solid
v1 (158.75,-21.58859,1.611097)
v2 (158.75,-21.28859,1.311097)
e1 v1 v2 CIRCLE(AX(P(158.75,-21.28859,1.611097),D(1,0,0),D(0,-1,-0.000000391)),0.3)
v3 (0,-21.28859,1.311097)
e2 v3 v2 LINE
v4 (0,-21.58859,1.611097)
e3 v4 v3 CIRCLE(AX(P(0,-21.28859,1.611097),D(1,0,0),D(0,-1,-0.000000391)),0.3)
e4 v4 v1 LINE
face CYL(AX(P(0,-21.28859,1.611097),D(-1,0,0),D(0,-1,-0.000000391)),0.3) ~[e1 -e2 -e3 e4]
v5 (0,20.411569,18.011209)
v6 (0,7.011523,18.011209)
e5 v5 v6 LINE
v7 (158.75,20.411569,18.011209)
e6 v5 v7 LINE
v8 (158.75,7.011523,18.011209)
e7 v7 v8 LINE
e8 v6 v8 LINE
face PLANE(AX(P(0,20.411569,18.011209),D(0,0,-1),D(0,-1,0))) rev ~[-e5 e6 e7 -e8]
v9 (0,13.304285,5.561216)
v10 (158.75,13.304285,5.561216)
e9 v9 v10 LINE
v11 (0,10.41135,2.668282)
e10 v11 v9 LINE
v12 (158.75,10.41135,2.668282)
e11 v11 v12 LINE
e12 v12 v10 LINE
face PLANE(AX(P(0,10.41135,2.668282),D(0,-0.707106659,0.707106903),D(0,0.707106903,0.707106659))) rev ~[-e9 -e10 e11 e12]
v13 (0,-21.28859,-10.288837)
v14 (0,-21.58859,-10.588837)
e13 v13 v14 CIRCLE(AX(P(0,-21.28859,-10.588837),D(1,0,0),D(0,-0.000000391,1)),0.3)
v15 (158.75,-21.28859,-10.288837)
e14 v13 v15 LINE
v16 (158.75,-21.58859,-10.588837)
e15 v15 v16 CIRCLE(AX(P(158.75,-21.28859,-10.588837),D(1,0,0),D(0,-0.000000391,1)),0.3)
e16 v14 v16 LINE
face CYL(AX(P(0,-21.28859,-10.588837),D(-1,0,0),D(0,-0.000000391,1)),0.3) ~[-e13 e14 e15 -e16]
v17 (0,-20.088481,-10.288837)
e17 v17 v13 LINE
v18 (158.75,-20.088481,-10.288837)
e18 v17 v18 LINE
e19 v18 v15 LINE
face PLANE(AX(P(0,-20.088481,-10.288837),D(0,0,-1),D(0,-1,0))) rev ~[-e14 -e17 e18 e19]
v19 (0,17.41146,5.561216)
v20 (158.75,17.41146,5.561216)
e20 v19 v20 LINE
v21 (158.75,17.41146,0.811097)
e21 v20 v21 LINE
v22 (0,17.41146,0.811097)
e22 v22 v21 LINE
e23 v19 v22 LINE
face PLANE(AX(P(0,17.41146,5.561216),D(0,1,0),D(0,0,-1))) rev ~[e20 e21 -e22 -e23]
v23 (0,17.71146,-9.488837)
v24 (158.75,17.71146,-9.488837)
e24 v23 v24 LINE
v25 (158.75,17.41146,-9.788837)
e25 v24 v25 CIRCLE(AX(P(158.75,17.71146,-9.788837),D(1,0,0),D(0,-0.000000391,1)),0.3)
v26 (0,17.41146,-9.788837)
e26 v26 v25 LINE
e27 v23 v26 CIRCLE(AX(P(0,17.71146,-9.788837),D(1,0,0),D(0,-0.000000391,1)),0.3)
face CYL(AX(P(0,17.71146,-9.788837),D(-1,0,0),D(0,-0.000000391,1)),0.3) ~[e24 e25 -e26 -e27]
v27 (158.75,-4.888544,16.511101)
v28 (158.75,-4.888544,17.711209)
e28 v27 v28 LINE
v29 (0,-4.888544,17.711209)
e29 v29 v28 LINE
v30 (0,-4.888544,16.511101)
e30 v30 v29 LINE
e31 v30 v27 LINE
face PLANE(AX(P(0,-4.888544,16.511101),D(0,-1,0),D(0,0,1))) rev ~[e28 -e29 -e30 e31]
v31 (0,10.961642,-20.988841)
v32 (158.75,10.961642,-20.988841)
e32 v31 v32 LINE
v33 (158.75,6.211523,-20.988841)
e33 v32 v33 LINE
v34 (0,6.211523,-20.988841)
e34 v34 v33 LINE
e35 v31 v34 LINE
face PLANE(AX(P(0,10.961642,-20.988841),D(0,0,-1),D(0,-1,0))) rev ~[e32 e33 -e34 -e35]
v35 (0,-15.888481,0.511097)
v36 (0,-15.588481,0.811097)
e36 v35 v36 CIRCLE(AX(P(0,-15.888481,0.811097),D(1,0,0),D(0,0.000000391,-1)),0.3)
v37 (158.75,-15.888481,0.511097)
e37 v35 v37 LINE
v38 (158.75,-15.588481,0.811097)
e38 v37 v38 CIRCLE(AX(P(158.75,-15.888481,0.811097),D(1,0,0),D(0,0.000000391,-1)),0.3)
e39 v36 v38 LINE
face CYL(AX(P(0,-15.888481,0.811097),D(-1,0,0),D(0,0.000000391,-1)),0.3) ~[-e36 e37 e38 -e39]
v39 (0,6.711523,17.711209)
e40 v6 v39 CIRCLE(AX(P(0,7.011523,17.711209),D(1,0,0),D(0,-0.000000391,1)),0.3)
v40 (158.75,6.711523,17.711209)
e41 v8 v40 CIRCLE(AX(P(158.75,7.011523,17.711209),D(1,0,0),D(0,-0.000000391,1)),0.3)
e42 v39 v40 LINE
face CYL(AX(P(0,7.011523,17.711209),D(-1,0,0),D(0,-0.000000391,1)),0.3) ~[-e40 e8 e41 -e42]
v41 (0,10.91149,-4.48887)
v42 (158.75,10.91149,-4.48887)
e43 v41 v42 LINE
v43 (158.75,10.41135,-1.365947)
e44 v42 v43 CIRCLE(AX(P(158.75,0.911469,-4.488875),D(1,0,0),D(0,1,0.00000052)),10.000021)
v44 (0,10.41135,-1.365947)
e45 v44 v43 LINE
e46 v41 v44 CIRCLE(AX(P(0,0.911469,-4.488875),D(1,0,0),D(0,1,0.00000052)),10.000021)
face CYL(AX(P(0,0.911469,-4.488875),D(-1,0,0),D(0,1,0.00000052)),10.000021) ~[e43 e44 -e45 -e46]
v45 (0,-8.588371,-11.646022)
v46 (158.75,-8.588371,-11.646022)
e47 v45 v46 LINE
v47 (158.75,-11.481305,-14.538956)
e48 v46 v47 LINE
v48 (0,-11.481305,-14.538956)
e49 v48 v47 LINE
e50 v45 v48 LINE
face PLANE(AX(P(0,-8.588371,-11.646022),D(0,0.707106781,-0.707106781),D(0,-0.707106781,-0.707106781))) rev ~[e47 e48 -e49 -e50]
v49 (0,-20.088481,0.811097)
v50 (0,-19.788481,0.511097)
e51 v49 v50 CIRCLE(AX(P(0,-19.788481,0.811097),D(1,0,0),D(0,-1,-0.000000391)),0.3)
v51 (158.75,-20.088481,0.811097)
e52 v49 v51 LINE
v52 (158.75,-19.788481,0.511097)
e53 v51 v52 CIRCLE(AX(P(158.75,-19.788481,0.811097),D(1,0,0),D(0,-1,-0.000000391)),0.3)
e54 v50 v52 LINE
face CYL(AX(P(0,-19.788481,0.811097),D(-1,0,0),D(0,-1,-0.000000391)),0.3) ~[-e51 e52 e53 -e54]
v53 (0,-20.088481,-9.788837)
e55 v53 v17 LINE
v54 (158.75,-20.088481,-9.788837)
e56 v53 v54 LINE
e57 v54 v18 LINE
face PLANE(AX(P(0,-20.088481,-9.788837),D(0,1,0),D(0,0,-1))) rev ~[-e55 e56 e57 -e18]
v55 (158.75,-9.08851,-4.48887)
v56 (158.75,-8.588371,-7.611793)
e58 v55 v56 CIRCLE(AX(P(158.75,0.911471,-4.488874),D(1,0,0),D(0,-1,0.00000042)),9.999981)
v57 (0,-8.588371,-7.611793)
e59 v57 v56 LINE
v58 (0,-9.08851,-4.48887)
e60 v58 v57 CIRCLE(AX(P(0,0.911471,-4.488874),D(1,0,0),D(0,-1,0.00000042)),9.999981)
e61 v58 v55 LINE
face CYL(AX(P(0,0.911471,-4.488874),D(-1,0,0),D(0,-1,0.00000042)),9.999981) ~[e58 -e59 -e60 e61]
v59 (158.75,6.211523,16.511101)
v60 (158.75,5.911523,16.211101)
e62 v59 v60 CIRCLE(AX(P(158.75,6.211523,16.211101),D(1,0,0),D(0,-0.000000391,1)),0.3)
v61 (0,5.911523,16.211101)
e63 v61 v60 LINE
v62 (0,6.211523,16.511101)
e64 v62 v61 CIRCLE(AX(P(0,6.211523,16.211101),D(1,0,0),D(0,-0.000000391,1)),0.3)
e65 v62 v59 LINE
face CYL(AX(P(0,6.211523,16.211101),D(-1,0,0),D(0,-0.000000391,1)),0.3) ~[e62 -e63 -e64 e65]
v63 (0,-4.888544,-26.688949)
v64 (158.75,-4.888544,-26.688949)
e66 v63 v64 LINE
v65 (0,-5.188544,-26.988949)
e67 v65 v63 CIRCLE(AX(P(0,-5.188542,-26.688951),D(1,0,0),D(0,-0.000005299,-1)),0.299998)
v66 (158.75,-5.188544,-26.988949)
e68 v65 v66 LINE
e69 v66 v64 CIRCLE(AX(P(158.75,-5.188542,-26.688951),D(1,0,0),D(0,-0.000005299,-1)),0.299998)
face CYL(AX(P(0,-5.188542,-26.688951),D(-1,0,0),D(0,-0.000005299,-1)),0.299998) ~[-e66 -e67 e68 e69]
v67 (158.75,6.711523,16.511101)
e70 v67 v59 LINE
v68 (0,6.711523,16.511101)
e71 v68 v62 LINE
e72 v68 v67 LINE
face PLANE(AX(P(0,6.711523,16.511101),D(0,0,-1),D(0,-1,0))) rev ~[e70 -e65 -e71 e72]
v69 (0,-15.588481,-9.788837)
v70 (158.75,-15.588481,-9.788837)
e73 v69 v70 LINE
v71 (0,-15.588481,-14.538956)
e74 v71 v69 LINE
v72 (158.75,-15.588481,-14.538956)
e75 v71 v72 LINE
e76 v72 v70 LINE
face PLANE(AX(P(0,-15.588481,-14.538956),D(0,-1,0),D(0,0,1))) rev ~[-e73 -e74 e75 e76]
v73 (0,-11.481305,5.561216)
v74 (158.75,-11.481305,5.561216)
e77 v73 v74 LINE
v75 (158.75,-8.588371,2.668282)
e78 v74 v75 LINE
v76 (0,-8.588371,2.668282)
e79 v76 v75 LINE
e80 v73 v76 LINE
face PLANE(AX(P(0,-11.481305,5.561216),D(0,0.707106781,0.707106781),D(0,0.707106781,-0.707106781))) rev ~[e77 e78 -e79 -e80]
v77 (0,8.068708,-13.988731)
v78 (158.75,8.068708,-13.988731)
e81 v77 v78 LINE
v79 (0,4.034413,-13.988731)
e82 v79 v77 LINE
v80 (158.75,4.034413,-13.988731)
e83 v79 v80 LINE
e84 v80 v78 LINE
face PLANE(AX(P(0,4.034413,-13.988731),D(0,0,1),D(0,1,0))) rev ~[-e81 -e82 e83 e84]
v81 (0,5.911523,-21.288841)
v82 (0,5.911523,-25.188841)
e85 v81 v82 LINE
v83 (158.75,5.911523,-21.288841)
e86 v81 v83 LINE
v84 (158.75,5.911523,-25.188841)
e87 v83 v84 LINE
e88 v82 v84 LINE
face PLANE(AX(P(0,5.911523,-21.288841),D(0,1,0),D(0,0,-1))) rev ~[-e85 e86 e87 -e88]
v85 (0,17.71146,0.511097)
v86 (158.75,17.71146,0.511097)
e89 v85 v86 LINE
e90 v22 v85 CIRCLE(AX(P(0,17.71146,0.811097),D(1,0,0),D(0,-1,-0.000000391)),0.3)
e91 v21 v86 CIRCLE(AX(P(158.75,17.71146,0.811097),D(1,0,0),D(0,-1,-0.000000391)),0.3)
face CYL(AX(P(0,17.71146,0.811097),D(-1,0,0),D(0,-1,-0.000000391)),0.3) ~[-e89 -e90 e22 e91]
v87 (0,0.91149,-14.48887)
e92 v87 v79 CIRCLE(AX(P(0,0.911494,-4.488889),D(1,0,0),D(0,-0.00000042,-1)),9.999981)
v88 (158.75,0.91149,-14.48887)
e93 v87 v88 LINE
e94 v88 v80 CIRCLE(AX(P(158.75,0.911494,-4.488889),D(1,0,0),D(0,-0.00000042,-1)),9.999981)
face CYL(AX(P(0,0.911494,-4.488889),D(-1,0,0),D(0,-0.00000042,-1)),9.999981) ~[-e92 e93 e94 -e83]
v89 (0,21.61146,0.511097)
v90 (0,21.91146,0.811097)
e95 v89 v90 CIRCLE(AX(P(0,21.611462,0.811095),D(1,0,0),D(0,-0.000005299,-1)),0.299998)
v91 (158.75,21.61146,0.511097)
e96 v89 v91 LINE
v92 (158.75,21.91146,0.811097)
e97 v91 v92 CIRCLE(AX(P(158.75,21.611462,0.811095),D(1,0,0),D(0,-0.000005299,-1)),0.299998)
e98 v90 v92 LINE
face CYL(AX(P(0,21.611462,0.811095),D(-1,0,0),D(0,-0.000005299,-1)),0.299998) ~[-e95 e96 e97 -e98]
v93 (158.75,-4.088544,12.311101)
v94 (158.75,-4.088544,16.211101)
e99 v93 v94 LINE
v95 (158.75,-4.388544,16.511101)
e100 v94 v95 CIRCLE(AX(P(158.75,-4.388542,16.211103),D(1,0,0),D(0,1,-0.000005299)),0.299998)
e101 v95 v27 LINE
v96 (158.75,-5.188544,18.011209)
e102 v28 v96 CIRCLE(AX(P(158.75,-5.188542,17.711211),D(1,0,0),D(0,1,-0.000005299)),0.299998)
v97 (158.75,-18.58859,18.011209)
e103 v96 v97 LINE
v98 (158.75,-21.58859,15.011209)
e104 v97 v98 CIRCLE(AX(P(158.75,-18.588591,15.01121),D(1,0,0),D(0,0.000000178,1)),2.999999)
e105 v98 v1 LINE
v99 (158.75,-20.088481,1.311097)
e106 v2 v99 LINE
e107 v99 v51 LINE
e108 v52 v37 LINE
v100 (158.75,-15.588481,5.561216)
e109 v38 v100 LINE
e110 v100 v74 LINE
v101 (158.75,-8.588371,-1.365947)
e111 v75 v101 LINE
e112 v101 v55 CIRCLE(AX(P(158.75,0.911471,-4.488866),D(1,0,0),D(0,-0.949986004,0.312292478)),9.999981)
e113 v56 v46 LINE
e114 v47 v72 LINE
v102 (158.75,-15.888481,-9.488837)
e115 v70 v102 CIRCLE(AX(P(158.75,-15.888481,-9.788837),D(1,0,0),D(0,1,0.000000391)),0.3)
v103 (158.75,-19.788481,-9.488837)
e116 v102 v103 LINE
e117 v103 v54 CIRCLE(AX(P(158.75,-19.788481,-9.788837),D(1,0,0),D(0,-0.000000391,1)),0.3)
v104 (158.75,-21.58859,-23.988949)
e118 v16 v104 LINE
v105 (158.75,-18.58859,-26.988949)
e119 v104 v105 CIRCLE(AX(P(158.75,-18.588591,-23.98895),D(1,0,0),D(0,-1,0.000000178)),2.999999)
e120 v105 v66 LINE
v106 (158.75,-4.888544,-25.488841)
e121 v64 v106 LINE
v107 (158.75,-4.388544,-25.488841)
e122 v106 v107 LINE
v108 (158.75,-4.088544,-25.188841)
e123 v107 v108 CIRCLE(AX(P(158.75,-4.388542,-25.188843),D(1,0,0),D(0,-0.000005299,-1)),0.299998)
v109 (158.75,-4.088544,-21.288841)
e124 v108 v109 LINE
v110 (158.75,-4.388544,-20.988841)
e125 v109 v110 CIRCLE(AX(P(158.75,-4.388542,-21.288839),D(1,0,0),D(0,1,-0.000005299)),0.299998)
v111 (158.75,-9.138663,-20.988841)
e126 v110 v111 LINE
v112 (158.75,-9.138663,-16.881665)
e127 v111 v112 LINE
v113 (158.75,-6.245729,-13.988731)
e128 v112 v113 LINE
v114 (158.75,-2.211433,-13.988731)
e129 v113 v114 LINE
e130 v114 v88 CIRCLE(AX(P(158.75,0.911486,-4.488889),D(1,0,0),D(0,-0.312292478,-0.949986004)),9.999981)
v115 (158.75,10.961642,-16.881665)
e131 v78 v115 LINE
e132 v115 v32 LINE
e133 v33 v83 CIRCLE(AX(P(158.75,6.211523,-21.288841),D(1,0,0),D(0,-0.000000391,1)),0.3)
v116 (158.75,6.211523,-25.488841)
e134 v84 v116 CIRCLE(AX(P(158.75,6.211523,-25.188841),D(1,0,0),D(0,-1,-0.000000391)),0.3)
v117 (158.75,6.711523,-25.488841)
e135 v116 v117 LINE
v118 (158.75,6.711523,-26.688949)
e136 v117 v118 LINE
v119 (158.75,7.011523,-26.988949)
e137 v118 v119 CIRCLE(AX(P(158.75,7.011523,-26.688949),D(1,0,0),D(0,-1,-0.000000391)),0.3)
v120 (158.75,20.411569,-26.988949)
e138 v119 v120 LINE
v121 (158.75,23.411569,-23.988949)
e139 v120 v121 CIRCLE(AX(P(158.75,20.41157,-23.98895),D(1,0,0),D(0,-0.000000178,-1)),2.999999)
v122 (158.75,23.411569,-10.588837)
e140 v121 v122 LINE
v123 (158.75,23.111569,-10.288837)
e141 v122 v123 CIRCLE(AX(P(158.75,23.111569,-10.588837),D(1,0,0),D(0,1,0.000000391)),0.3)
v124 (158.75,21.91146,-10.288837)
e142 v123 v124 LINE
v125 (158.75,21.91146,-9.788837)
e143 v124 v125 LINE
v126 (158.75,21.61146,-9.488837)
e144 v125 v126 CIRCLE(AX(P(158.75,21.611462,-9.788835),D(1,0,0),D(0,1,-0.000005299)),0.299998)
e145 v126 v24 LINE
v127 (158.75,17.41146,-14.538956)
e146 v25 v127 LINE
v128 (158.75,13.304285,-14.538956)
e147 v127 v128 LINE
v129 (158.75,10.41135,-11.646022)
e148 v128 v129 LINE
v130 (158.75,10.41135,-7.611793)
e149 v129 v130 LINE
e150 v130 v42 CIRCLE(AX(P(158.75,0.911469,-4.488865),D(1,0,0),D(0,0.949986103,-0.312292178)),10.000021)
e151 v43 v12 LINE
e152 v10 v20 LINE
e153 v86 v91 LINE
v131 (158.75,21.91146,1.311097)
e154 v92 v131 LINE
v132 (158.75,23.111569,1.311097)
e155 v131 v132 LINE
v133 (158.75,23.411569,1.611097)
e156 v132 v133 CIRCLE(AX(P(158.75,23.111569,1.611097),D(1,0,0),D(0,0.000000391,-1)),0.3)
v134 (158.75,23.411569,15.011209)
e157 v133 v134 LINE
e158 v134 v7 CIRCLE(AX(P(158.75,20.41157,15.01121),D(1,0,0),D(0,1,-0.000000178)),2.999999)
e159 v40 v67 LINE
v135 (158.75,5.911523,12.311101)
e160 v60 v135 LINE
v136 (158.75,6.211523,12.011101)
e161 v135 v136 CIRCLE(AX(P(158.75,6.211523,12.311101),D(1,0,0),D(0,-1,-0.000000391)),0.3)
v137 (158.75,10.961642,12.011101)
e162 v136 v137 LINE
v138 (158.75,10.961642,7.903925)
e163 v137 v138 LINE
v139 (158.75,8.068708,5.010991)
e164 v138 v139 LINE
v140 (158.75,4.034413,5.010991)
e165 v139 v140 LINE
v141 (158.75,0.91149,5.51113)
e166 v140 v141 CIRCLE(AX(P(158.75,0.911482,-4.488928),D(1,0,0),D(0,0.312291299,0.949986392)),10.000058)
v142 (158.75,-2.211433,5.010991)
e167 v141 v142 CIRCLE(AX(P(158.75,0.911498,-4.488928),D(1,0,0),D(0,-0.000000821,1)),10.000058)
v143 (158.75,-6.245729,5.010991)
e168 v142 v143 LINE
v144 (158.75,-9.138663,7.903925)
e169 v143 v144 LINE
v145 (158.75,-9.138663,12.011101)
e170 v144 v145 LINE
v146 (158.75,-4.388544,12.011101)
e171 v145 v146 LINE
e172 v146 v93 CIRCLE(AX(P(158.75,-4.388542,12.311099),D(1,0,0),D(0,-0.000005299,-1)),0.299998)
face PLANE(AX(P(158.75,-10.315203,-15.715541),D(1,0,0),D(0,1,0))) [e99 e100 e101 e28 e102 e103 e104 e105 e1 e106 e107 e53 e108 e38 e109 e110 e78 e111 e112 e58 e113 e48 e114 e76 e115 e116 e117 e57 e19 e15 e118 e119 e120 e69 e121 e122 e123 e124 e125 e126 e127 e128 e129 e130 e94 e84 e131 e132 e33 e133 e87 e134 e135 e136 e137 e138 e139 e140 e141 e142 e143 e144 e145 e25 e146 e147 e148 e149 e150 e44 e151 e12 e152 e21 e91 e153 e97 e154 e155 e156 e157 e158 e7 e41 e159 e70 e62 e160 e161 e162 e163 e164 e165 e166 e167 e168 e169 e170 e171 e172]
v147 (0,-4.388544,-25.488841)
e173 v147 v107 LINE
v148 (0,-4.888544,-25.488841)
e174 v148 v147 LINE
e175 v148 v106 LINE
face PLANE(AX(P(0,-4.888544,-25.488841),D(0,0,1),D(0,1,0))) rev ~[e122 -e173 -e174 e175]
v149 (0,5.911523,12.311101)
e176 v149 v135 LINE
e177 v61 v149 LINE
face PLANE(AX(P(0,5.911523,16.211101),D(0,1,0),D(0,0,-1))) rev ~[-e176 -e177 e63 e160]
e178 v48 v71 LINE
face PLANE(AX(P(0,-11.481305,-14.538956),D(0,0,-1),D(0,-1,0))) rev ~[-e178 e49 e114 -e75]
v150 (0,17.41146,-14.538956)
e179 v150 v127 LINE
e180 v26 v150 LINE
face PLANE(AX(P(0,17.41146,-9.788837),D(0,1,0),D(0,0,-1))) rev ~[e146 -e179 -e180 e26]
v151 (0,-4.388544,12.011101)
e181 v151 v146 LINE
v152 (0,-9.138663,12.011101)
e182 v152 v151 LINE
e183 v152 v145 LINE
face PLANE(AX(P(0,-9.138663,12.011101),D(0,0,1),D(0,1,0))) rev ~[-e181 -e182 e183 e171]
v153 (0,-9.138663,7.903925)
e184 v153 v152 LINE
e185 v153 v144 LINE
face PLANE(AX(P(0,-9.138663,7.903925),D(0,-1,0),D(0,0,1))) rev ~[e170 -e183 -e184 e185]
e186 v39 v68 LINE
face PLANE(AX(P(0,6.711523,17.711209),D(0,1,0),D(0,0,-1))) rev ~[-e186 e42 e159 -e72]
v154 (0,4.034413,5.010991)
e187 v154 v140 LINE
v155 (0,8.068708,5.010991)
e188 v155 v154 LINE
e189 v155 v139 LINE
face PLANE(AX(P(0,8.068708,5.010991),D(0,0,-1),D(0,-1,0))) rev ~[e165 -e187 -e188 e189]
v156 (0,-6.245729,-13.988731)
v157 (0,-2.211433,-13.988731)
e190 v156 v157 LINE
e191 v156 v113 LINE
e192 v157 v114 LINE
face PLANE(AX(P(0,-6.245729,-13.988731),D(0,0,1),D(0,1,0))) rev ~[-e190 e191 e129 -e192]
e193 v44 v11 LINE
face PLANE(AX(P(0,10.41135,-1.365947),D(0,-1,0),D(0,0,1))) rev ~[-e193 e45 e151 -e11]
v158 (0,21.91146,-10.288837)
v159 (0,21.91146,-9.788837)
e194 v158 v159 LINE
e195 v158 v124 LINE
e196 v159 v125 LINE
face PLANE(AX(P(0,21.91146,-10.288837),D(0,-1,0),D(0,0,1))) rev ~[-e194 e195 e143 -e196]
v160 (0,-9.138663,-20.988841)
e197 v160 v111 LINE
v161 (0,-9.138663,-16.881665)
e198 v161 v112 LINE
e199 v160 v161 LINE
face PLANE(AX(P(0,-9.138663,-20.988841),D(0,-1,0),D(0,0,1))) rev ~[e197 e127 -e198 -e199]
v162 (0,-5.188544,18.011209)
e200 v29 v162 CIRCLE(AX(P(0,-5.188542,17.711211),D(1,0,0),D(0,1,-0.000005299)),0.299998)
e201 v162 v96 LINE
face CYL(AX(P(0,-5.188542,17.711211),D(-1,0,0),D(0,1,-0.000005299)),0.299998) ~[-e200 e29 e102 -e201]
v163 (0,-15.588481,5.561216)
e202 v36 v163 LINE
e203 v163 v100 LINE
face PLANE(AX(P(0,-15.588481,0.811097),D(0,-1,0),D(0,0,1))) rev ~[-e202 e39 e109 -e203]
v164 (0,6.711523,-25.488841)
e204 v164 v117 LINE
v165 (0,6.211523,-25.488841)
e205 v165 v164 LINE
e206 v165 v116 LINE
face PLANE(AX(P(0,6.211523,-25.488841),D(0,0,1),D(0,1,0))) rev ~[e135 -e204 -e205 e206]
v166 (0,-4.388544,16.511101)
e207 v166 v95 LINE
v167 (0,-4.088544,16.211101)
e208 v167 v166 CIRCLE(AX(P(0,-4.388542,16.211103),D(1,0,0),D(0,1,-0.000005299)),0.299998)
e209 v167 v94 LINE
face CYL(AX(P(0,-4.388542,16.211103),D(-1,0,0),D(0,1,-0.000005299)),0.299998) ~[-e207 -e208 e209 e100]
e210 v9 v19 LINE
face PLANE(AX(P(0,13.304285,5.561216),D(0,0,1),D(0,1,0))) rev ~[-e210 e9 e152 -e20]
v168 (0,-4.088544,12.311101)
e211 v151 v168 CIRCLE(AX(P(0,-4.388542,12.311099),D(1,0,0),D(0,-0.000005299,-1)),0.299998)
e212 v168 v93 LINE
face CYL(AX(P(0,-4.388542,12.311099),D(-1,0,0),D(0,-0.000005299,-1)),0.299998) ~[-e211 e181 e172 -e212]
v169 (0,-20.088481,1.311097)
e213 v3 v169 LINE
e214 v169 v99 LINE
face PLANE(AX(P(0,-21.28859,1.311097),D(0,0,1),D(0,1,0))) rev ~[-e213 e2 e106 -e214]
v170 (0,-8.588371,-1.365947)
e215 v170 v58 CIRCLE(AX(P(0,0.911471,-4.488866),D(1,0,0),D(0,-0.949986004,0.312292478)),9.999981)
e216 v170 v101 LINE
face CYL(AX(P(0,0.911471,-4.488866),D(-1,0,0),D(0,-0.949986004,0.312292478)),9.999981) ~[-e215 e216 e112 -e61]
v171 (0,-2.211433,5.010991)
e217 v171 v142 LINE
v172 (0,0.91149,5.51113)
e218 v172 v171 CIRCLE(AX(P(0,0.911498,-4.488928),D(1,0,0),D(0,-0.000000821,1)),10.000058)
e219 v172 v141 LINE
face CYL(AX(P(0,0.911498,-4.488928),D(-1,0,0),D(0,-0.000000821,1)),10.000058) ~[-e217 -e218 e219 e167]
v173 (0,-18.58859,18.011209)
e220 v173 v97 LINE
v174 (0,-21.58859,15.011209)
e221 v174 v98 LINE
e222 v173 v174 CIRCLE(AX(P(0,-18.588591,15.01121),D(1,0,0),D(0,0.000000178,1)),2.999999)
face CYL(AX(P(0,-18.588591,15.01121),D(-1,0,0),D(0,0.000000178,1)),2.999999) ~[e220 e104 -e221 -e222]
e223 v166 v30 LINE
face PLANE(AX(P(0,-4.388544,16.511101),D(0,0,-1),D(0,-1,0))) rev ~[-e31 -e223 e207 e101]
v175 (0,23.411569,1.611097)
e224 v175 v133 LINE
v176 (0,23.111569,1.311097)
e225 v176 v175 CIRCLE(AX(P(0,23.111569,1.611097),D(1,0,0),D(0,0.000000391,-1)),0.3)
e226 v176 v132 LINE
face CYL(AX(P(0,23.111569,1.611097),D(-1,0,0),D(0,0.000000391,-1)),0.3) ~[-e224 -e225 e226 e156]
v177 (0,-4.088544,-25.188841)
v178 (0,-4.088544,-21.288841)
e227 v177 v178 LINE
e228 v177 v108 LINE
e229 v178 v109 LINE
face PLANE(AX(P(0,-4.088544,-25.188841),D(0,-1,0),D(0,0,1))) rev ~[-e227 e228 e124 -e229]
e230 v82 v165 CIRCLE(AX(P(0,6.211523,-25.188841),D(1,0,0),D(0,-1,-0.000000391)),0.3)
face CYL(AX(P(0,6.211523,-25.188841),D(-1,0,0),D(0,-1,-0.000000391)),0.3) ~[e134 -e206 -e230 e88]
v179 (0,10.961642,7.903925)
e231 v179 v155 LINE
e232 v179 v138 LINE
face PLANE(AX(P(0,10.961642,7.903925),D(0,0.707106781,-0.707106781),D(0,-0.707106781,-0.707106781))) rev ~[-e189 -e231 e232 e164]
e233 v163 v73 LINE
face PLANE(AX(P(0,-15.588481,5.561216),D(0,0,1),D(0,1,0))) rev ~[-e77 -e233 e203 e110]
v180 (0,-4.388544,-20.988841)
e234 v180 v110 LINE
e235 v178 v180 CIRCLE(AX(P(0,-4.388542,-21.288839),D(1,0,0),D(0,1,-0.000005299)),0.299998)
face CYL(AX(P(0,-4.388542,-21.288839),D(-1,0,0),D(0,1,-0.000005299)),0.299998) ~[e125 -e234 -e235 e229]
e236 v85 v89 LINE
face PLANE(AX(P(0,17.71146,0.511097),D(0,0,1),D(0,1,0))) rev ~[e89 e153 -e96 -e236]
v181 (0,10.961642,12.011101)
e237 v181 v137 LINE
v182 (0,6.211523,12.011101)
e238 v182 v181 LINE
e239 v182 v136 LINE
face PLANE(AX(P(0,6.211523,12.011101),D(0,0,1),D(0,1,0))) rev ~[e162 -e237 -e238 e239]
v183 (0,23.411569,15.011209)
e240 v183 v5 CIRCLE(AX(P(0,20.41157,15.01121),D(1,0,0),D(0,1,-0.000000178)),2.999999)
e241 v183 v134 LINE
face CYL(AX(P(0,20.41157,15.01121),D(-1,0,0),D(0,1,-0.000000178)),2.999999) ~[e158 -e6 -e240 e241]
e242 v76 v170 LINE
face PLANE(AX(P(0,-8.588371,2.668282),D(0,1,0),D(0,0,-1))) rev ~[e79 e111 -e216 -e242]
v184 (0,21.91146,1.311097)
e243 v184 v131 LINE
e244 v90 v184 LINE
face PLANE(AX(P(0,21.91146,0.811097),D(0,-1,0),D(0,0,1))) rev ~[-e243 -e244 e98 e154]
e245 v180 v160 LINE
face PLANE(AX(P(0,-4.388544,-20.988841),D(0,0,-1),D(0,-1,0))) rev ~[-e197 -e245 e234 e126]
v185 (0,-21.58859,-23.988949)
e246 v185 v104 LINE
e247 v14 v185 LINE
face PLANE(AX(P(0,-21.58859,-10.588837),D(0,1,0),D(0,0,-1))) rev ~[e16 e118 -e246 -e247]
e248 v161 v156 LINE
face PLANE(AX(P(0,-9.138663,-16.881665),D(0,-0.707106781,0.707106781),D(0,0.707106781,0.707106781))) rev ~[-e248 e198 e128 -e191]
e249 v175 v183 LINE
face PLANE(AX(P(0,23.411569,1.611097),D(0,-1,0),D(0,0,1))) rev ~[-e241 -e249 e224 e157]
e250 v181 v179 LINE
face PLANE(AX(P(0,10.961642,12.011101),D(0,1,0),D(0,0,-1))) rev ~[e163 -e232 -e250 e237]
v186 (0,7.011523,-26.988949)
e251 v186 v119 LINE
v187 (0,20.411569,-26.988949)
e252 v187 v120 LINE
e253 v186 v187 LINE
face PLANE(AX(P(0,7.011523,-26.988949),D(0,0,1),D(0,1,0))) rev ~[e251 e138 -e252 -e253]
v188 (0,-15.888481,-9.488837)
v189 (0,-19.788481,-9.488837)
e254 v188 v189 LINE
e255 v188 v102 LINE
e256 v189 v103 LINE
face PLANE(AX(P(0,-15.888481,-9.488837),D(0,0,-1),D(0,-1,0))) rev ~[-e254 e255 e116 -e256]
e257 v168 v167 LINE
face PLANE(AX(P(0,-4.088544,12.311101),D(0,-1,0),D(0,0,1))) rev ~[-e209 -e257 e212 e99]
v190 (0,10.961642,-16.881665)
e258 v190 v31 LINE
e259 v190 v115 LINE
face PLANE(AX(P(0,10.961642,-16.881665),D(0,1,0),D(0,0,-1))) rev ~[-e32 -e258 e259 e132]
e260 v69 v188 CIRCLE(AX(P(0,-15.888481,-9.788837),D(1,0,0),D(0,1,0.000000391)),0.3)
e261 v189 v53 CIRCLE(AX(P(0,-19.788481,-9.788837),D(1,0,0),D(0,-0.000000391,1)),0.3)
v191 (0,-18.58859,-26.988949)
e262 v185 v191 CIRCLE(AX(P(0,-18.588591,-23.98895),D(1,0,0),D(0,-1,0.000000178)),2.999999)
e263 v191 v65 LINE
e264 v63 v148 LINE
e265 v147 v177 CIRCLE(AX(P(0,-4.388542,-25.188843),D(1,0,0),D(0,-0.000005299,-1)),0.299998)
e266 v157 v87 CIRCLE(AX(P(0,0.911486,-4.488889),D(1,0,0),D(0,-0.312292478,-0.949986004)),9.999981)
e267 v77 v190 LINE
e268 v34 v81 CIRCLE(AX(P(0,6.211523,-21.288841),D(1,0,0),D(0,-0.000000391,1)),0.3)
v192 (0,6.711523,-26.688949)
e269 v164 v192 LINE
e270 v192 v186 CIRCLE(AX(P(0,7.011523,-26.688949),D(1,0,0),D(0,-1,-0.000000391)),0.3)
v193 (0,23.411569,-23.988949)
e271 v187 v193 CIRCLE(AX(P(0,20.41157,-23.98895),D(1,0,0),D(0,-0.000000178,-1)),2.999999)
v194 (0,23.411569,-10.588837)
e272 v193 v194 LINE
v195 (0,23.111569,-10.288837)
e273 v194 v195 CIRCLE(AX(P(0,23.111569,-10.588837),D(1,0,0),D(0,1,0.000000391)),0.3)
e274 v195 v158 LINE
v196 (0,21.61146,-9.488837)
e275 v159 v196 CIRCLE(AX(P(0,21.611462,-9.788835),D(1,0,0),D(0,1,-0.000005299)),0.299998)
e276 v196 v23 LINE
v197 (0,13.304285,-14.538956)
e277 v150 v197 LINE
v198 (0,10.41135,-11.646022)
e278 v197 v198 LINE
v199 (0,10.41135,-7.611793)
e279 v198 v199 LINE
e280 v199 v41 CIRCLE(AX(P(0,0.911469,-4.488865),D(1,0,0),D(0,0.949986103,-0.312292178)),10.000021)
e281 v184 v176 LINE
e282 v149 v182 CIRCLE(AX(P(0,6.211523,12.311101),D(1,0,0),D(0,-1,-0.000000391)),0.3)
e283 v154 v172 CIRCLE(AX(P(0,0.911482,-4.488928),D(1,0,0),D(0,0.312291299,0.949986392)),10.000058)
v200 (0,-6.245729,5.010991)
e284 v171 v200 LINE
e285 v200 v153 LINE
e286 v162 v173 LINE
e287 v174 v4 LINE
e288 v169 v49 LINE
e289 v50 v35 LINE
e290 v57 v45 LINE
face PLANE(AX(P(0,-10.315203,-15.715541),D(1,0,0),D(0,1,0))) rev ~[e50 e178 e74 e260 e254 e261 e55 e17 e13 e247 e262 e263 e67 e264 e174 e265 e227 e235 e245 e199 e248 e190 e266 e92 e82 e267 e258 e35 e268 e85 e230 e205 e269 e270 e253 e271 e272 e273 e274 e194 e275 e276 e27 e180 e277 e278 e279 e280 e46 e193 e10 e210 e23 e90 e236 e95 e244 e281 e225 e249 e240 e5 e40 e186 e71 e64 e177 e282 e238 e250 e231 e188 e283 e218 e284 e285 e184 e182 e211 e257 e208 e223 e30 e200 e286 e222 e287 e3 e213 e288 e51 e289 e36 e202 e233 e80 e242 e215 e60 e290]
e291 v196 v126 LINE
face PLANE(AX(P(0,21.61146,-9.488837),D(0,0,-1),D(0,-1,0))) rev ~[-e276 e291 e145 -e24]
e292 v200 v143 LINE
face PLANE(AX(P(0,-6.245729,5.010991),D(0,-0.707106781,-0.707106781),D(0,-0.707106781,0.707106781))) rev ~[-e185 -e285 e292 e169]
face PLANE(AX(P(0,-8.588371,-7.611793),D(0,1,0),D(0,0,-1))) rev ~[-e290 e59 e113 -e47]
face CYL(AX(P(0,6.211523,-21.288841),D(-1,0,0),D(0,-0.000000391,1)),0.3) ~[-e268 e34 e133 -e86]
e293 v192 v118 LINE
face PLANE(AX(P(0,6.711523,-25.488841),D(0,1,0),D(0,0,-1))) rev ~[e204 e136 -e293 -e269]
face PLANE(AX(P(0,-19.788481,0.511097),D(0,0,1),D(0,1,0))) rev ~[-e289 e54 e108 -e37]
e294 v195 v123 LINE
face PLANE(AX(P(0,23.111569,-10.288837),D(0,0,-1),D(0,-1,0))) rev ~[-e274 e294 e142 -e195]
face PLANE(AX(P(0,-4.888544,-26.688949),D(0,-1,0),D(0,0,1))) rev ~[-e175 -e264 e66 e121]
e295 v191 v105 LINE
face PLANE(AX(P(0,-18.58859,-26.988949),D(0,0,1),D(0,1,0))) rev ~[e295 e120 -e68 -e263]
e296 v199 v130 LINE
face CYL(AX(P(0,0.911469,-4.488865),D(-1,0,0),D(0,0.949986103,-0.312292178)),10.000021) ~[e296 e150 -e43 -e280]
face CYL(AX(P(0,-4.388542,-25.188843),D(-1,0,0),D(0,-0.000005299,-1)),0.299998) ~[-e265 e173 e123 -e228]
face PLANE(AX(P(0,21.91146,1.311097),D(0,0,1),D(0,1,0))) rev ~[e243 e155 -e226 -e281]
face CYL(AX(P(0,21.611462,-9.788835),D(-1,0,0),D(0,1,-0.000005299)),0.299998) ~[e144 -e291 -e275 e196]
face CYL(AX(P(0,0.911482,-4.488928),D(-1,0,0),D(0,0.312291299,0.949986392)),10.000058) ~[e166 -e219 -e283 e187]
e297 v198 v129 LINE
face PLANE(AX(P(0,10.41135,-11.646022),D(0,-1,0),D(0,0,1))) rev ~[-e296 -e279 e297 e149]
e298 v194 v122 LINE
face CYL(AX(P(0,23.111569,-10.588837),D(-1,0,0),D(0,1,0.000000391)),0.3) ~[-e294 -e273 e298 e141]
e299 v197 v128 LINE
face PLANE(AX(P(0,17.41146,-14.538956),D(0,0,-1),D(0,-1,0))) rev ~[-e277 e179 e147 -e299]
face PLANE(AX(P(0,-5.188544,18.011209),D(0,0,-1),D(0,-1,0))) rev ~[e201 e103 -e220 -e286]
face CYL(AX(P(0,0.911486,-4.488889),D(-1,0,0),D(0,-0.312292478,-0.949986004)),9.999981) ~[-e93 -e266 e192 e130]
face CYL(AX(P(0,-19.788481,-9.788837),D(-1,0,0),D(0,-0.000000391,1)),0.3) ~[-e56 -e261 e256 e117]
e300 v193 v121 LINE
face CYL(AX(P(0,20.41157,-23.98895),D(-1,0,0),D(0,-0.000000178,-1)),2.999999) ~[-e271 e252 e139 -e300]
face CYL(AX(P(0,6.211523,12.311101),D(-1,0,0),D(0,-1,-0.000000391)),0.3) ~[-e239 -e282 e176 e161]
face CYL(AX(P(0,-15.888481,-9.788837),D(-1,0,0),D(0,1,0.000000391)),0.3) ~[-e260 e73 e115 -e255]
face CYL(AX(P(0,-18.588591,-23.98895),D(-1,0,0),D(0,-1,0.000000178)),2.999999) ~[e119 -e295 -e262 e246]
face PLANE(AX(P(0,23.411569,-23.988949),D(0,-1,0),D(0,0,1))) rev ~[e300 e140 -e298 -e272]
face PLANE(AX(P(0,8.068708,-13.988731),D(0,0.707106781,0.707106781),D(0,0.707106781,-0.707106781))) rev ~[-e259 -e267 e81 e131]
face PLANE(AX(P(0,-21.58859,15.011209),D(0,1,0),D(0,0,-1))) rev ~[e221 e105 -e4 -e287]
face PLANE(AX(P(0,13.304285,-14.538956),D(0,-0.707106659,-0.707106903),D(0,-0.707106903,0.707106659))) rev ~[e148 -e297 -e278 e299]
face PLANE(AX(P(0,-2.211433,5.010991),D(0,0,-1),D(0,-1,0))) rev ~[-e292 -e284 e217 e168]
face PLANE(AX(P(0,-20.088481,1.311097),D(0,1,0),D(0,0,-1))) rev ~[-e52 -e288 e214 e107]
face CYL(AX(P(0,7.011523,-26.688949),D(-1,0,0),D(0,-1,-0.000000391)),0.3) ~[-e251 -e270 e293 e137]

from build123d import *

# Parameters (mm, degrees)
F1_DEPTH = 158.75


with BuildPart() as f1:
    # F0 (on Right) → F1 (new body)
    with BuildSketch(Plane.YZ):
        with BuildLine():
            Line((-20.088481, -9.788837), (-20.088481, -10.288837))
            Line((-20.088481, -10.288837), (-21.28859, -10.288837))
            ThreePointArc((-21.28859, -10.288837), (-21.500722, -10.376705), (-21.58859, -10.588837))
            Line((-21.58859, -10.588837), (-21.58859, -23.988949))
            ThreePointArc((-21.58859, -23.988949), (-20.70991, -26.11027), (-18.58859, -26.988949))
            Line((-18.58859, -26.988949), (-5.188544, -26.988949))
            ThreePointArc((-5.188544, -26.988949), (-4.976411, -26.901081), (-4.888544, -26.688949))
            Line((-4.888544, -26.688949), (-4.888544, -25.488841))
            Line((-4.888544, -25.488841), (-4.388544, -25.488841))
            ThreePointArc((-4.388544, -25.488841), (-4.176411, -25.400973), (-4.088544, -25.188841))
            Line((-4.088544, -25.188841), (-4.088544, -21.288841))
            ThreePointArc((-4.088544, -21.288841), (-4.176411, -21.076709), (-4.388544, -20.988841))
            Line((-4.388544, -20.988841), (-9.138663, -20.988841))
            Line((-9.138663, -20.988841), (-9.138663, -16.881665))
            Line((-9.138663, -16.881665), (-6.245729, -13.988731))
            Line((-6.245729, -13.988731), (-2.211433, -13.988731))
            ThreePointArc((-2.211433, -13.988731), (-0.669869, -14.363044), (0.91149, -14.48887))
            Line((0.91149, -14.48887), (0.91149, -4.48887))
            Line((0.91149, -4.48887), (-9.08851, -4.48887))
            ThreePointArc((-9.08851, -4.48887), (-8.962684, -6.070229), (-8.588371, -7.611793))
            Line((-8.588371, -7.611793), (-8.588371, -11.646022))
            Line((-8.588371, -11.646022), (-11.481305, -14.538956))
            Line((-11.481305, -14.538956), (-15.588481, -14.538956))
            Line((-15.588481, -14.538956), (-15.588481, -9.788837))
            ThreePointArc((-15.588481, -9.788837), (-15.676349, -9.576705), (-15.888481, -9.488837))
            Line((-15.888481, -9.488837), (-19.788481, -9.488837))
            ThreePointArc((-19.788481, -9.488837), (-20.000613, -9.576705), (-20.088481, -9.788837))
        make_face()
        with BuildLine():
            ThreePointArc((-8.588371, -1.365947), (-8.962684, -2.907511), (-9.08851, -4.48887))
            Line((-9.08851, -4.48887), (0.91149, -4.48887))
            Line((0.91149, -4.48887), (0.91149, 5.51113))
            ThreePointArc((0.91149, 5.51113), (-0.669869, 5.385303), (-2.211433, 5.010991))
            Line((-2.211433, 5.010991), (-6.245729, 5.010991))
            Line((-6.245729, 5.010991), (-9.138663, 7.903925))
            Line((-9.138663, 7.903925), (-9.138663, 12.011101))
            Line((-9.138663, 12.011101), (-4.388544, 12.011101))
            ThreePointArc((-4.388544, 12.011101), (-4.176411, 12.098969), (-4.088544, 12.311101))
            Line((-4.088544, 12.311101), (-4.088544, 16.211101))
            ThreePointArc((-4.088544, 16.211101), (-4.176411, 16.423233), (-4.388544, 16.511101))
            Line((-4.388544, 16.511101), (-4.888544, 16.511101))
            Line((-4.888544, 16.511101), (-4.888544, 17.711209))
            ThreePointArc((-4.888544, 17.711209), (-4.976411, 17.923341), (-5.188544, 18.011209))
            Line((-5.188544, 18.011209), (-18.58859, 18.011209))
            ThreePointArc((-18.58859, 18.011209), (-20.70991, 17.13253), (-21.58859, 15.011209))
            Line((-21.58859, 15.011209), (-21.58859, 1.611097))
            ThreePointArc((-21.58859, 1.611097), (-21.500722, 1.398965), (-21.28859, 1.311097))
            Line((-21.28859, 1.311097), (-20.088481, 1.311097))
            Line((-20.088481, 1.311097), (-20.088481, 0.811097))
            ThreePointArc((-20.088481, 0.811097), (-20.000613, 0.598965), (-19.788481, 0.511097))
            Line((-19.788481, 0.511097), (-15.888481, 0.511097))
            ThreePointArc((-15.888481, 0.511097), (-15.676349, 0.598965), (-15.588481, 0.811097))
            Line((-15.588481, 0.811097), (-15.588481, 5.561216))
            Line((-15.588481, 5.561216), (-11.481305, 5.561216))
            Line((-11.481305, 5.561216), (-8.588371, 2.668282))
            Line((-8.588371, 2.668282), (-8.588371, -1.365947))
        make_face()
        with BuildLine():
            Line((0.91149, 5.51113), (0.91149, -4.48887))
            Line((0.91149, -4.48887), (10.91149, -4.48887))
            ThreePointArc((10.91149, -4.48887), (10.785663, -2.907511), (10.41135, -1.365947))
            Line((10.41135, -1.365947), (10.41135, 2.668282))
            Line((10.41135, 2.668282), (13.304285, 5.561216))
            Line((13.304285, 5.561216), (14.016842, 5.561216))
            Line((14.016842, 5.561216), (17.41146, 5.561216))
            Line((17.41146, 5.561216), (17.41146, 0.811097))
            ThreePointArc((17.41146, 0.811097), (17.499328, 0.598965), (17.71146, 0.511097))
            Line((17.71146, 0.511097), (21.61146, 0.511097))
            ThreePointArc((21.61146, 0.511097), (21.823593, 0.598965), (21.91146, 0.811097))
            Line((21.91146, 0.811097), (21.91146, 1.311097))
            Line((21.91146, 1.311097), (23.111569, 1.311097))
            ThreePointArc((23.111569, 1.311097), (23.323701, 1.398965), (23.411569, 1.611097))
            Line((23.411569, 1.611097), (23.411569, 15.011209))
            ThreePointArc((23.411569, 15.011209), (22.532889, 17.13253), (20.411569, 18.011209))
            Line((20.411569, 18.011209), (7.011523, 18.011209))
            ThreePointArc((7.011523, 18.011209), (6.799391, 17.923341), (6.711523, 17.711209))
            Line((6.711523, 17.711209), (6.711523, 16.511101))
            Line((6.711523, 16.511101), (6.211523, 16.511101))
            ThreePointArc((6.211523, 16.511101), (5.999391, 16.423233), (5.911523, 16.211101))
            Line((5.911523, 16.211101), (5.911523, 12.311101))
            ThreePointArc((5.911523, 12.311101), (5.999391, 12.098969), (6.211523, 12.011101))
            Line((6.211523, 12.011101), (10.961642, 12.011101))
            Line((10.961642, 12.011101), (10.961642, 7.903925))
            Line((10.961642, 7.903925), (8.068708, 5.010991))
            Line((8.068708, 5.010991), (4.034413, 5.010991))
            ThreePointArc((4.034413, 5.010991), (2.492849, 5.385303), (0.91149, 5.51113))
        make_face()
        with BuildLine():
            Line((10.91149, -4.48887), (0.91149, -4.48887))
            Line((0.91149, -4.48887), (0.91149, -14.48887))
            ThreePointArc((0.91149, -14.48887), (2.492849, -14.363044), (4.034413, -13.988731))
            Line((4.034413, -13.988731), (8.068708, -13.988731))
            Line((8.068708, -13.988731), (10.961642, -16.881665))
            Line((10.961642, -16.881665), (10.961642, -20.988841))
            Line((10.961642, -20.988841), (6.211523, -20.988841))
            ThreePointArc((6.211523, -20.988841), (5.999391, -21.076709), (5.911523, -21.288841))
            Line((5.911523, -21.288841), (5.911523, -25.188841))
            ThreePointArc((5.911523, -25.188841), (5.999391, -25.400973), (6.211523, -25.488841))
            Line((6.211523, -25.488841), (6.711523, -25.488841))
            Line((6.711523, -25.488841), (6.711523, -26.688949))
            ThreePointArc((6.711523, -26.688949), (6.799391, -26.901081), (7.011523, -26.988949))
            Line((7.011523, -26.988949), (20.411569, -26.988949))
            ThreePointArc((20.411569, -26.988949), (22.532889, -26.11027), (23.411569, -23.988949))
            Line((23.411569, -23.988949), (23.411569, -10.588837))
            ThreePointArc((23.411569, -10.588837), (23.323701, -10.376705), (23.111569, -10.288837))
            Line((23.111569, -10.288837), (21.91146, -10.288837))
            Line((21.91146, -10.288837), (21.91146, -9.788837))
            ThreePointArc((21.91146, -9.788837), (21.823593, -9.576705), (21.61146, -9.488837))
            Line((21.61146, -9.488837), (17.71146, -9.488837))
            ThreePointArc((17.71146, -9.488837), (17.499328, -9.576705), (17.41146, -9.788837))
            Line((17.41146, -9.788837), (17.41146, -14.538956))
            Line((17.41146, -14.538956), (13.304285, -14.538956))
            Line((13.304285, -14.538956), (10.41135, -11.646022))
            Line((10.41135, -11.646022), (10.41135, -7.611793))
            ThreePointArc((10.41135, -7.611793), (10.785663, -6.070229), (10.91149, -4.48887))
        make_face()
    extrude(amount=F1_DEPTH)


solid = f1.part
